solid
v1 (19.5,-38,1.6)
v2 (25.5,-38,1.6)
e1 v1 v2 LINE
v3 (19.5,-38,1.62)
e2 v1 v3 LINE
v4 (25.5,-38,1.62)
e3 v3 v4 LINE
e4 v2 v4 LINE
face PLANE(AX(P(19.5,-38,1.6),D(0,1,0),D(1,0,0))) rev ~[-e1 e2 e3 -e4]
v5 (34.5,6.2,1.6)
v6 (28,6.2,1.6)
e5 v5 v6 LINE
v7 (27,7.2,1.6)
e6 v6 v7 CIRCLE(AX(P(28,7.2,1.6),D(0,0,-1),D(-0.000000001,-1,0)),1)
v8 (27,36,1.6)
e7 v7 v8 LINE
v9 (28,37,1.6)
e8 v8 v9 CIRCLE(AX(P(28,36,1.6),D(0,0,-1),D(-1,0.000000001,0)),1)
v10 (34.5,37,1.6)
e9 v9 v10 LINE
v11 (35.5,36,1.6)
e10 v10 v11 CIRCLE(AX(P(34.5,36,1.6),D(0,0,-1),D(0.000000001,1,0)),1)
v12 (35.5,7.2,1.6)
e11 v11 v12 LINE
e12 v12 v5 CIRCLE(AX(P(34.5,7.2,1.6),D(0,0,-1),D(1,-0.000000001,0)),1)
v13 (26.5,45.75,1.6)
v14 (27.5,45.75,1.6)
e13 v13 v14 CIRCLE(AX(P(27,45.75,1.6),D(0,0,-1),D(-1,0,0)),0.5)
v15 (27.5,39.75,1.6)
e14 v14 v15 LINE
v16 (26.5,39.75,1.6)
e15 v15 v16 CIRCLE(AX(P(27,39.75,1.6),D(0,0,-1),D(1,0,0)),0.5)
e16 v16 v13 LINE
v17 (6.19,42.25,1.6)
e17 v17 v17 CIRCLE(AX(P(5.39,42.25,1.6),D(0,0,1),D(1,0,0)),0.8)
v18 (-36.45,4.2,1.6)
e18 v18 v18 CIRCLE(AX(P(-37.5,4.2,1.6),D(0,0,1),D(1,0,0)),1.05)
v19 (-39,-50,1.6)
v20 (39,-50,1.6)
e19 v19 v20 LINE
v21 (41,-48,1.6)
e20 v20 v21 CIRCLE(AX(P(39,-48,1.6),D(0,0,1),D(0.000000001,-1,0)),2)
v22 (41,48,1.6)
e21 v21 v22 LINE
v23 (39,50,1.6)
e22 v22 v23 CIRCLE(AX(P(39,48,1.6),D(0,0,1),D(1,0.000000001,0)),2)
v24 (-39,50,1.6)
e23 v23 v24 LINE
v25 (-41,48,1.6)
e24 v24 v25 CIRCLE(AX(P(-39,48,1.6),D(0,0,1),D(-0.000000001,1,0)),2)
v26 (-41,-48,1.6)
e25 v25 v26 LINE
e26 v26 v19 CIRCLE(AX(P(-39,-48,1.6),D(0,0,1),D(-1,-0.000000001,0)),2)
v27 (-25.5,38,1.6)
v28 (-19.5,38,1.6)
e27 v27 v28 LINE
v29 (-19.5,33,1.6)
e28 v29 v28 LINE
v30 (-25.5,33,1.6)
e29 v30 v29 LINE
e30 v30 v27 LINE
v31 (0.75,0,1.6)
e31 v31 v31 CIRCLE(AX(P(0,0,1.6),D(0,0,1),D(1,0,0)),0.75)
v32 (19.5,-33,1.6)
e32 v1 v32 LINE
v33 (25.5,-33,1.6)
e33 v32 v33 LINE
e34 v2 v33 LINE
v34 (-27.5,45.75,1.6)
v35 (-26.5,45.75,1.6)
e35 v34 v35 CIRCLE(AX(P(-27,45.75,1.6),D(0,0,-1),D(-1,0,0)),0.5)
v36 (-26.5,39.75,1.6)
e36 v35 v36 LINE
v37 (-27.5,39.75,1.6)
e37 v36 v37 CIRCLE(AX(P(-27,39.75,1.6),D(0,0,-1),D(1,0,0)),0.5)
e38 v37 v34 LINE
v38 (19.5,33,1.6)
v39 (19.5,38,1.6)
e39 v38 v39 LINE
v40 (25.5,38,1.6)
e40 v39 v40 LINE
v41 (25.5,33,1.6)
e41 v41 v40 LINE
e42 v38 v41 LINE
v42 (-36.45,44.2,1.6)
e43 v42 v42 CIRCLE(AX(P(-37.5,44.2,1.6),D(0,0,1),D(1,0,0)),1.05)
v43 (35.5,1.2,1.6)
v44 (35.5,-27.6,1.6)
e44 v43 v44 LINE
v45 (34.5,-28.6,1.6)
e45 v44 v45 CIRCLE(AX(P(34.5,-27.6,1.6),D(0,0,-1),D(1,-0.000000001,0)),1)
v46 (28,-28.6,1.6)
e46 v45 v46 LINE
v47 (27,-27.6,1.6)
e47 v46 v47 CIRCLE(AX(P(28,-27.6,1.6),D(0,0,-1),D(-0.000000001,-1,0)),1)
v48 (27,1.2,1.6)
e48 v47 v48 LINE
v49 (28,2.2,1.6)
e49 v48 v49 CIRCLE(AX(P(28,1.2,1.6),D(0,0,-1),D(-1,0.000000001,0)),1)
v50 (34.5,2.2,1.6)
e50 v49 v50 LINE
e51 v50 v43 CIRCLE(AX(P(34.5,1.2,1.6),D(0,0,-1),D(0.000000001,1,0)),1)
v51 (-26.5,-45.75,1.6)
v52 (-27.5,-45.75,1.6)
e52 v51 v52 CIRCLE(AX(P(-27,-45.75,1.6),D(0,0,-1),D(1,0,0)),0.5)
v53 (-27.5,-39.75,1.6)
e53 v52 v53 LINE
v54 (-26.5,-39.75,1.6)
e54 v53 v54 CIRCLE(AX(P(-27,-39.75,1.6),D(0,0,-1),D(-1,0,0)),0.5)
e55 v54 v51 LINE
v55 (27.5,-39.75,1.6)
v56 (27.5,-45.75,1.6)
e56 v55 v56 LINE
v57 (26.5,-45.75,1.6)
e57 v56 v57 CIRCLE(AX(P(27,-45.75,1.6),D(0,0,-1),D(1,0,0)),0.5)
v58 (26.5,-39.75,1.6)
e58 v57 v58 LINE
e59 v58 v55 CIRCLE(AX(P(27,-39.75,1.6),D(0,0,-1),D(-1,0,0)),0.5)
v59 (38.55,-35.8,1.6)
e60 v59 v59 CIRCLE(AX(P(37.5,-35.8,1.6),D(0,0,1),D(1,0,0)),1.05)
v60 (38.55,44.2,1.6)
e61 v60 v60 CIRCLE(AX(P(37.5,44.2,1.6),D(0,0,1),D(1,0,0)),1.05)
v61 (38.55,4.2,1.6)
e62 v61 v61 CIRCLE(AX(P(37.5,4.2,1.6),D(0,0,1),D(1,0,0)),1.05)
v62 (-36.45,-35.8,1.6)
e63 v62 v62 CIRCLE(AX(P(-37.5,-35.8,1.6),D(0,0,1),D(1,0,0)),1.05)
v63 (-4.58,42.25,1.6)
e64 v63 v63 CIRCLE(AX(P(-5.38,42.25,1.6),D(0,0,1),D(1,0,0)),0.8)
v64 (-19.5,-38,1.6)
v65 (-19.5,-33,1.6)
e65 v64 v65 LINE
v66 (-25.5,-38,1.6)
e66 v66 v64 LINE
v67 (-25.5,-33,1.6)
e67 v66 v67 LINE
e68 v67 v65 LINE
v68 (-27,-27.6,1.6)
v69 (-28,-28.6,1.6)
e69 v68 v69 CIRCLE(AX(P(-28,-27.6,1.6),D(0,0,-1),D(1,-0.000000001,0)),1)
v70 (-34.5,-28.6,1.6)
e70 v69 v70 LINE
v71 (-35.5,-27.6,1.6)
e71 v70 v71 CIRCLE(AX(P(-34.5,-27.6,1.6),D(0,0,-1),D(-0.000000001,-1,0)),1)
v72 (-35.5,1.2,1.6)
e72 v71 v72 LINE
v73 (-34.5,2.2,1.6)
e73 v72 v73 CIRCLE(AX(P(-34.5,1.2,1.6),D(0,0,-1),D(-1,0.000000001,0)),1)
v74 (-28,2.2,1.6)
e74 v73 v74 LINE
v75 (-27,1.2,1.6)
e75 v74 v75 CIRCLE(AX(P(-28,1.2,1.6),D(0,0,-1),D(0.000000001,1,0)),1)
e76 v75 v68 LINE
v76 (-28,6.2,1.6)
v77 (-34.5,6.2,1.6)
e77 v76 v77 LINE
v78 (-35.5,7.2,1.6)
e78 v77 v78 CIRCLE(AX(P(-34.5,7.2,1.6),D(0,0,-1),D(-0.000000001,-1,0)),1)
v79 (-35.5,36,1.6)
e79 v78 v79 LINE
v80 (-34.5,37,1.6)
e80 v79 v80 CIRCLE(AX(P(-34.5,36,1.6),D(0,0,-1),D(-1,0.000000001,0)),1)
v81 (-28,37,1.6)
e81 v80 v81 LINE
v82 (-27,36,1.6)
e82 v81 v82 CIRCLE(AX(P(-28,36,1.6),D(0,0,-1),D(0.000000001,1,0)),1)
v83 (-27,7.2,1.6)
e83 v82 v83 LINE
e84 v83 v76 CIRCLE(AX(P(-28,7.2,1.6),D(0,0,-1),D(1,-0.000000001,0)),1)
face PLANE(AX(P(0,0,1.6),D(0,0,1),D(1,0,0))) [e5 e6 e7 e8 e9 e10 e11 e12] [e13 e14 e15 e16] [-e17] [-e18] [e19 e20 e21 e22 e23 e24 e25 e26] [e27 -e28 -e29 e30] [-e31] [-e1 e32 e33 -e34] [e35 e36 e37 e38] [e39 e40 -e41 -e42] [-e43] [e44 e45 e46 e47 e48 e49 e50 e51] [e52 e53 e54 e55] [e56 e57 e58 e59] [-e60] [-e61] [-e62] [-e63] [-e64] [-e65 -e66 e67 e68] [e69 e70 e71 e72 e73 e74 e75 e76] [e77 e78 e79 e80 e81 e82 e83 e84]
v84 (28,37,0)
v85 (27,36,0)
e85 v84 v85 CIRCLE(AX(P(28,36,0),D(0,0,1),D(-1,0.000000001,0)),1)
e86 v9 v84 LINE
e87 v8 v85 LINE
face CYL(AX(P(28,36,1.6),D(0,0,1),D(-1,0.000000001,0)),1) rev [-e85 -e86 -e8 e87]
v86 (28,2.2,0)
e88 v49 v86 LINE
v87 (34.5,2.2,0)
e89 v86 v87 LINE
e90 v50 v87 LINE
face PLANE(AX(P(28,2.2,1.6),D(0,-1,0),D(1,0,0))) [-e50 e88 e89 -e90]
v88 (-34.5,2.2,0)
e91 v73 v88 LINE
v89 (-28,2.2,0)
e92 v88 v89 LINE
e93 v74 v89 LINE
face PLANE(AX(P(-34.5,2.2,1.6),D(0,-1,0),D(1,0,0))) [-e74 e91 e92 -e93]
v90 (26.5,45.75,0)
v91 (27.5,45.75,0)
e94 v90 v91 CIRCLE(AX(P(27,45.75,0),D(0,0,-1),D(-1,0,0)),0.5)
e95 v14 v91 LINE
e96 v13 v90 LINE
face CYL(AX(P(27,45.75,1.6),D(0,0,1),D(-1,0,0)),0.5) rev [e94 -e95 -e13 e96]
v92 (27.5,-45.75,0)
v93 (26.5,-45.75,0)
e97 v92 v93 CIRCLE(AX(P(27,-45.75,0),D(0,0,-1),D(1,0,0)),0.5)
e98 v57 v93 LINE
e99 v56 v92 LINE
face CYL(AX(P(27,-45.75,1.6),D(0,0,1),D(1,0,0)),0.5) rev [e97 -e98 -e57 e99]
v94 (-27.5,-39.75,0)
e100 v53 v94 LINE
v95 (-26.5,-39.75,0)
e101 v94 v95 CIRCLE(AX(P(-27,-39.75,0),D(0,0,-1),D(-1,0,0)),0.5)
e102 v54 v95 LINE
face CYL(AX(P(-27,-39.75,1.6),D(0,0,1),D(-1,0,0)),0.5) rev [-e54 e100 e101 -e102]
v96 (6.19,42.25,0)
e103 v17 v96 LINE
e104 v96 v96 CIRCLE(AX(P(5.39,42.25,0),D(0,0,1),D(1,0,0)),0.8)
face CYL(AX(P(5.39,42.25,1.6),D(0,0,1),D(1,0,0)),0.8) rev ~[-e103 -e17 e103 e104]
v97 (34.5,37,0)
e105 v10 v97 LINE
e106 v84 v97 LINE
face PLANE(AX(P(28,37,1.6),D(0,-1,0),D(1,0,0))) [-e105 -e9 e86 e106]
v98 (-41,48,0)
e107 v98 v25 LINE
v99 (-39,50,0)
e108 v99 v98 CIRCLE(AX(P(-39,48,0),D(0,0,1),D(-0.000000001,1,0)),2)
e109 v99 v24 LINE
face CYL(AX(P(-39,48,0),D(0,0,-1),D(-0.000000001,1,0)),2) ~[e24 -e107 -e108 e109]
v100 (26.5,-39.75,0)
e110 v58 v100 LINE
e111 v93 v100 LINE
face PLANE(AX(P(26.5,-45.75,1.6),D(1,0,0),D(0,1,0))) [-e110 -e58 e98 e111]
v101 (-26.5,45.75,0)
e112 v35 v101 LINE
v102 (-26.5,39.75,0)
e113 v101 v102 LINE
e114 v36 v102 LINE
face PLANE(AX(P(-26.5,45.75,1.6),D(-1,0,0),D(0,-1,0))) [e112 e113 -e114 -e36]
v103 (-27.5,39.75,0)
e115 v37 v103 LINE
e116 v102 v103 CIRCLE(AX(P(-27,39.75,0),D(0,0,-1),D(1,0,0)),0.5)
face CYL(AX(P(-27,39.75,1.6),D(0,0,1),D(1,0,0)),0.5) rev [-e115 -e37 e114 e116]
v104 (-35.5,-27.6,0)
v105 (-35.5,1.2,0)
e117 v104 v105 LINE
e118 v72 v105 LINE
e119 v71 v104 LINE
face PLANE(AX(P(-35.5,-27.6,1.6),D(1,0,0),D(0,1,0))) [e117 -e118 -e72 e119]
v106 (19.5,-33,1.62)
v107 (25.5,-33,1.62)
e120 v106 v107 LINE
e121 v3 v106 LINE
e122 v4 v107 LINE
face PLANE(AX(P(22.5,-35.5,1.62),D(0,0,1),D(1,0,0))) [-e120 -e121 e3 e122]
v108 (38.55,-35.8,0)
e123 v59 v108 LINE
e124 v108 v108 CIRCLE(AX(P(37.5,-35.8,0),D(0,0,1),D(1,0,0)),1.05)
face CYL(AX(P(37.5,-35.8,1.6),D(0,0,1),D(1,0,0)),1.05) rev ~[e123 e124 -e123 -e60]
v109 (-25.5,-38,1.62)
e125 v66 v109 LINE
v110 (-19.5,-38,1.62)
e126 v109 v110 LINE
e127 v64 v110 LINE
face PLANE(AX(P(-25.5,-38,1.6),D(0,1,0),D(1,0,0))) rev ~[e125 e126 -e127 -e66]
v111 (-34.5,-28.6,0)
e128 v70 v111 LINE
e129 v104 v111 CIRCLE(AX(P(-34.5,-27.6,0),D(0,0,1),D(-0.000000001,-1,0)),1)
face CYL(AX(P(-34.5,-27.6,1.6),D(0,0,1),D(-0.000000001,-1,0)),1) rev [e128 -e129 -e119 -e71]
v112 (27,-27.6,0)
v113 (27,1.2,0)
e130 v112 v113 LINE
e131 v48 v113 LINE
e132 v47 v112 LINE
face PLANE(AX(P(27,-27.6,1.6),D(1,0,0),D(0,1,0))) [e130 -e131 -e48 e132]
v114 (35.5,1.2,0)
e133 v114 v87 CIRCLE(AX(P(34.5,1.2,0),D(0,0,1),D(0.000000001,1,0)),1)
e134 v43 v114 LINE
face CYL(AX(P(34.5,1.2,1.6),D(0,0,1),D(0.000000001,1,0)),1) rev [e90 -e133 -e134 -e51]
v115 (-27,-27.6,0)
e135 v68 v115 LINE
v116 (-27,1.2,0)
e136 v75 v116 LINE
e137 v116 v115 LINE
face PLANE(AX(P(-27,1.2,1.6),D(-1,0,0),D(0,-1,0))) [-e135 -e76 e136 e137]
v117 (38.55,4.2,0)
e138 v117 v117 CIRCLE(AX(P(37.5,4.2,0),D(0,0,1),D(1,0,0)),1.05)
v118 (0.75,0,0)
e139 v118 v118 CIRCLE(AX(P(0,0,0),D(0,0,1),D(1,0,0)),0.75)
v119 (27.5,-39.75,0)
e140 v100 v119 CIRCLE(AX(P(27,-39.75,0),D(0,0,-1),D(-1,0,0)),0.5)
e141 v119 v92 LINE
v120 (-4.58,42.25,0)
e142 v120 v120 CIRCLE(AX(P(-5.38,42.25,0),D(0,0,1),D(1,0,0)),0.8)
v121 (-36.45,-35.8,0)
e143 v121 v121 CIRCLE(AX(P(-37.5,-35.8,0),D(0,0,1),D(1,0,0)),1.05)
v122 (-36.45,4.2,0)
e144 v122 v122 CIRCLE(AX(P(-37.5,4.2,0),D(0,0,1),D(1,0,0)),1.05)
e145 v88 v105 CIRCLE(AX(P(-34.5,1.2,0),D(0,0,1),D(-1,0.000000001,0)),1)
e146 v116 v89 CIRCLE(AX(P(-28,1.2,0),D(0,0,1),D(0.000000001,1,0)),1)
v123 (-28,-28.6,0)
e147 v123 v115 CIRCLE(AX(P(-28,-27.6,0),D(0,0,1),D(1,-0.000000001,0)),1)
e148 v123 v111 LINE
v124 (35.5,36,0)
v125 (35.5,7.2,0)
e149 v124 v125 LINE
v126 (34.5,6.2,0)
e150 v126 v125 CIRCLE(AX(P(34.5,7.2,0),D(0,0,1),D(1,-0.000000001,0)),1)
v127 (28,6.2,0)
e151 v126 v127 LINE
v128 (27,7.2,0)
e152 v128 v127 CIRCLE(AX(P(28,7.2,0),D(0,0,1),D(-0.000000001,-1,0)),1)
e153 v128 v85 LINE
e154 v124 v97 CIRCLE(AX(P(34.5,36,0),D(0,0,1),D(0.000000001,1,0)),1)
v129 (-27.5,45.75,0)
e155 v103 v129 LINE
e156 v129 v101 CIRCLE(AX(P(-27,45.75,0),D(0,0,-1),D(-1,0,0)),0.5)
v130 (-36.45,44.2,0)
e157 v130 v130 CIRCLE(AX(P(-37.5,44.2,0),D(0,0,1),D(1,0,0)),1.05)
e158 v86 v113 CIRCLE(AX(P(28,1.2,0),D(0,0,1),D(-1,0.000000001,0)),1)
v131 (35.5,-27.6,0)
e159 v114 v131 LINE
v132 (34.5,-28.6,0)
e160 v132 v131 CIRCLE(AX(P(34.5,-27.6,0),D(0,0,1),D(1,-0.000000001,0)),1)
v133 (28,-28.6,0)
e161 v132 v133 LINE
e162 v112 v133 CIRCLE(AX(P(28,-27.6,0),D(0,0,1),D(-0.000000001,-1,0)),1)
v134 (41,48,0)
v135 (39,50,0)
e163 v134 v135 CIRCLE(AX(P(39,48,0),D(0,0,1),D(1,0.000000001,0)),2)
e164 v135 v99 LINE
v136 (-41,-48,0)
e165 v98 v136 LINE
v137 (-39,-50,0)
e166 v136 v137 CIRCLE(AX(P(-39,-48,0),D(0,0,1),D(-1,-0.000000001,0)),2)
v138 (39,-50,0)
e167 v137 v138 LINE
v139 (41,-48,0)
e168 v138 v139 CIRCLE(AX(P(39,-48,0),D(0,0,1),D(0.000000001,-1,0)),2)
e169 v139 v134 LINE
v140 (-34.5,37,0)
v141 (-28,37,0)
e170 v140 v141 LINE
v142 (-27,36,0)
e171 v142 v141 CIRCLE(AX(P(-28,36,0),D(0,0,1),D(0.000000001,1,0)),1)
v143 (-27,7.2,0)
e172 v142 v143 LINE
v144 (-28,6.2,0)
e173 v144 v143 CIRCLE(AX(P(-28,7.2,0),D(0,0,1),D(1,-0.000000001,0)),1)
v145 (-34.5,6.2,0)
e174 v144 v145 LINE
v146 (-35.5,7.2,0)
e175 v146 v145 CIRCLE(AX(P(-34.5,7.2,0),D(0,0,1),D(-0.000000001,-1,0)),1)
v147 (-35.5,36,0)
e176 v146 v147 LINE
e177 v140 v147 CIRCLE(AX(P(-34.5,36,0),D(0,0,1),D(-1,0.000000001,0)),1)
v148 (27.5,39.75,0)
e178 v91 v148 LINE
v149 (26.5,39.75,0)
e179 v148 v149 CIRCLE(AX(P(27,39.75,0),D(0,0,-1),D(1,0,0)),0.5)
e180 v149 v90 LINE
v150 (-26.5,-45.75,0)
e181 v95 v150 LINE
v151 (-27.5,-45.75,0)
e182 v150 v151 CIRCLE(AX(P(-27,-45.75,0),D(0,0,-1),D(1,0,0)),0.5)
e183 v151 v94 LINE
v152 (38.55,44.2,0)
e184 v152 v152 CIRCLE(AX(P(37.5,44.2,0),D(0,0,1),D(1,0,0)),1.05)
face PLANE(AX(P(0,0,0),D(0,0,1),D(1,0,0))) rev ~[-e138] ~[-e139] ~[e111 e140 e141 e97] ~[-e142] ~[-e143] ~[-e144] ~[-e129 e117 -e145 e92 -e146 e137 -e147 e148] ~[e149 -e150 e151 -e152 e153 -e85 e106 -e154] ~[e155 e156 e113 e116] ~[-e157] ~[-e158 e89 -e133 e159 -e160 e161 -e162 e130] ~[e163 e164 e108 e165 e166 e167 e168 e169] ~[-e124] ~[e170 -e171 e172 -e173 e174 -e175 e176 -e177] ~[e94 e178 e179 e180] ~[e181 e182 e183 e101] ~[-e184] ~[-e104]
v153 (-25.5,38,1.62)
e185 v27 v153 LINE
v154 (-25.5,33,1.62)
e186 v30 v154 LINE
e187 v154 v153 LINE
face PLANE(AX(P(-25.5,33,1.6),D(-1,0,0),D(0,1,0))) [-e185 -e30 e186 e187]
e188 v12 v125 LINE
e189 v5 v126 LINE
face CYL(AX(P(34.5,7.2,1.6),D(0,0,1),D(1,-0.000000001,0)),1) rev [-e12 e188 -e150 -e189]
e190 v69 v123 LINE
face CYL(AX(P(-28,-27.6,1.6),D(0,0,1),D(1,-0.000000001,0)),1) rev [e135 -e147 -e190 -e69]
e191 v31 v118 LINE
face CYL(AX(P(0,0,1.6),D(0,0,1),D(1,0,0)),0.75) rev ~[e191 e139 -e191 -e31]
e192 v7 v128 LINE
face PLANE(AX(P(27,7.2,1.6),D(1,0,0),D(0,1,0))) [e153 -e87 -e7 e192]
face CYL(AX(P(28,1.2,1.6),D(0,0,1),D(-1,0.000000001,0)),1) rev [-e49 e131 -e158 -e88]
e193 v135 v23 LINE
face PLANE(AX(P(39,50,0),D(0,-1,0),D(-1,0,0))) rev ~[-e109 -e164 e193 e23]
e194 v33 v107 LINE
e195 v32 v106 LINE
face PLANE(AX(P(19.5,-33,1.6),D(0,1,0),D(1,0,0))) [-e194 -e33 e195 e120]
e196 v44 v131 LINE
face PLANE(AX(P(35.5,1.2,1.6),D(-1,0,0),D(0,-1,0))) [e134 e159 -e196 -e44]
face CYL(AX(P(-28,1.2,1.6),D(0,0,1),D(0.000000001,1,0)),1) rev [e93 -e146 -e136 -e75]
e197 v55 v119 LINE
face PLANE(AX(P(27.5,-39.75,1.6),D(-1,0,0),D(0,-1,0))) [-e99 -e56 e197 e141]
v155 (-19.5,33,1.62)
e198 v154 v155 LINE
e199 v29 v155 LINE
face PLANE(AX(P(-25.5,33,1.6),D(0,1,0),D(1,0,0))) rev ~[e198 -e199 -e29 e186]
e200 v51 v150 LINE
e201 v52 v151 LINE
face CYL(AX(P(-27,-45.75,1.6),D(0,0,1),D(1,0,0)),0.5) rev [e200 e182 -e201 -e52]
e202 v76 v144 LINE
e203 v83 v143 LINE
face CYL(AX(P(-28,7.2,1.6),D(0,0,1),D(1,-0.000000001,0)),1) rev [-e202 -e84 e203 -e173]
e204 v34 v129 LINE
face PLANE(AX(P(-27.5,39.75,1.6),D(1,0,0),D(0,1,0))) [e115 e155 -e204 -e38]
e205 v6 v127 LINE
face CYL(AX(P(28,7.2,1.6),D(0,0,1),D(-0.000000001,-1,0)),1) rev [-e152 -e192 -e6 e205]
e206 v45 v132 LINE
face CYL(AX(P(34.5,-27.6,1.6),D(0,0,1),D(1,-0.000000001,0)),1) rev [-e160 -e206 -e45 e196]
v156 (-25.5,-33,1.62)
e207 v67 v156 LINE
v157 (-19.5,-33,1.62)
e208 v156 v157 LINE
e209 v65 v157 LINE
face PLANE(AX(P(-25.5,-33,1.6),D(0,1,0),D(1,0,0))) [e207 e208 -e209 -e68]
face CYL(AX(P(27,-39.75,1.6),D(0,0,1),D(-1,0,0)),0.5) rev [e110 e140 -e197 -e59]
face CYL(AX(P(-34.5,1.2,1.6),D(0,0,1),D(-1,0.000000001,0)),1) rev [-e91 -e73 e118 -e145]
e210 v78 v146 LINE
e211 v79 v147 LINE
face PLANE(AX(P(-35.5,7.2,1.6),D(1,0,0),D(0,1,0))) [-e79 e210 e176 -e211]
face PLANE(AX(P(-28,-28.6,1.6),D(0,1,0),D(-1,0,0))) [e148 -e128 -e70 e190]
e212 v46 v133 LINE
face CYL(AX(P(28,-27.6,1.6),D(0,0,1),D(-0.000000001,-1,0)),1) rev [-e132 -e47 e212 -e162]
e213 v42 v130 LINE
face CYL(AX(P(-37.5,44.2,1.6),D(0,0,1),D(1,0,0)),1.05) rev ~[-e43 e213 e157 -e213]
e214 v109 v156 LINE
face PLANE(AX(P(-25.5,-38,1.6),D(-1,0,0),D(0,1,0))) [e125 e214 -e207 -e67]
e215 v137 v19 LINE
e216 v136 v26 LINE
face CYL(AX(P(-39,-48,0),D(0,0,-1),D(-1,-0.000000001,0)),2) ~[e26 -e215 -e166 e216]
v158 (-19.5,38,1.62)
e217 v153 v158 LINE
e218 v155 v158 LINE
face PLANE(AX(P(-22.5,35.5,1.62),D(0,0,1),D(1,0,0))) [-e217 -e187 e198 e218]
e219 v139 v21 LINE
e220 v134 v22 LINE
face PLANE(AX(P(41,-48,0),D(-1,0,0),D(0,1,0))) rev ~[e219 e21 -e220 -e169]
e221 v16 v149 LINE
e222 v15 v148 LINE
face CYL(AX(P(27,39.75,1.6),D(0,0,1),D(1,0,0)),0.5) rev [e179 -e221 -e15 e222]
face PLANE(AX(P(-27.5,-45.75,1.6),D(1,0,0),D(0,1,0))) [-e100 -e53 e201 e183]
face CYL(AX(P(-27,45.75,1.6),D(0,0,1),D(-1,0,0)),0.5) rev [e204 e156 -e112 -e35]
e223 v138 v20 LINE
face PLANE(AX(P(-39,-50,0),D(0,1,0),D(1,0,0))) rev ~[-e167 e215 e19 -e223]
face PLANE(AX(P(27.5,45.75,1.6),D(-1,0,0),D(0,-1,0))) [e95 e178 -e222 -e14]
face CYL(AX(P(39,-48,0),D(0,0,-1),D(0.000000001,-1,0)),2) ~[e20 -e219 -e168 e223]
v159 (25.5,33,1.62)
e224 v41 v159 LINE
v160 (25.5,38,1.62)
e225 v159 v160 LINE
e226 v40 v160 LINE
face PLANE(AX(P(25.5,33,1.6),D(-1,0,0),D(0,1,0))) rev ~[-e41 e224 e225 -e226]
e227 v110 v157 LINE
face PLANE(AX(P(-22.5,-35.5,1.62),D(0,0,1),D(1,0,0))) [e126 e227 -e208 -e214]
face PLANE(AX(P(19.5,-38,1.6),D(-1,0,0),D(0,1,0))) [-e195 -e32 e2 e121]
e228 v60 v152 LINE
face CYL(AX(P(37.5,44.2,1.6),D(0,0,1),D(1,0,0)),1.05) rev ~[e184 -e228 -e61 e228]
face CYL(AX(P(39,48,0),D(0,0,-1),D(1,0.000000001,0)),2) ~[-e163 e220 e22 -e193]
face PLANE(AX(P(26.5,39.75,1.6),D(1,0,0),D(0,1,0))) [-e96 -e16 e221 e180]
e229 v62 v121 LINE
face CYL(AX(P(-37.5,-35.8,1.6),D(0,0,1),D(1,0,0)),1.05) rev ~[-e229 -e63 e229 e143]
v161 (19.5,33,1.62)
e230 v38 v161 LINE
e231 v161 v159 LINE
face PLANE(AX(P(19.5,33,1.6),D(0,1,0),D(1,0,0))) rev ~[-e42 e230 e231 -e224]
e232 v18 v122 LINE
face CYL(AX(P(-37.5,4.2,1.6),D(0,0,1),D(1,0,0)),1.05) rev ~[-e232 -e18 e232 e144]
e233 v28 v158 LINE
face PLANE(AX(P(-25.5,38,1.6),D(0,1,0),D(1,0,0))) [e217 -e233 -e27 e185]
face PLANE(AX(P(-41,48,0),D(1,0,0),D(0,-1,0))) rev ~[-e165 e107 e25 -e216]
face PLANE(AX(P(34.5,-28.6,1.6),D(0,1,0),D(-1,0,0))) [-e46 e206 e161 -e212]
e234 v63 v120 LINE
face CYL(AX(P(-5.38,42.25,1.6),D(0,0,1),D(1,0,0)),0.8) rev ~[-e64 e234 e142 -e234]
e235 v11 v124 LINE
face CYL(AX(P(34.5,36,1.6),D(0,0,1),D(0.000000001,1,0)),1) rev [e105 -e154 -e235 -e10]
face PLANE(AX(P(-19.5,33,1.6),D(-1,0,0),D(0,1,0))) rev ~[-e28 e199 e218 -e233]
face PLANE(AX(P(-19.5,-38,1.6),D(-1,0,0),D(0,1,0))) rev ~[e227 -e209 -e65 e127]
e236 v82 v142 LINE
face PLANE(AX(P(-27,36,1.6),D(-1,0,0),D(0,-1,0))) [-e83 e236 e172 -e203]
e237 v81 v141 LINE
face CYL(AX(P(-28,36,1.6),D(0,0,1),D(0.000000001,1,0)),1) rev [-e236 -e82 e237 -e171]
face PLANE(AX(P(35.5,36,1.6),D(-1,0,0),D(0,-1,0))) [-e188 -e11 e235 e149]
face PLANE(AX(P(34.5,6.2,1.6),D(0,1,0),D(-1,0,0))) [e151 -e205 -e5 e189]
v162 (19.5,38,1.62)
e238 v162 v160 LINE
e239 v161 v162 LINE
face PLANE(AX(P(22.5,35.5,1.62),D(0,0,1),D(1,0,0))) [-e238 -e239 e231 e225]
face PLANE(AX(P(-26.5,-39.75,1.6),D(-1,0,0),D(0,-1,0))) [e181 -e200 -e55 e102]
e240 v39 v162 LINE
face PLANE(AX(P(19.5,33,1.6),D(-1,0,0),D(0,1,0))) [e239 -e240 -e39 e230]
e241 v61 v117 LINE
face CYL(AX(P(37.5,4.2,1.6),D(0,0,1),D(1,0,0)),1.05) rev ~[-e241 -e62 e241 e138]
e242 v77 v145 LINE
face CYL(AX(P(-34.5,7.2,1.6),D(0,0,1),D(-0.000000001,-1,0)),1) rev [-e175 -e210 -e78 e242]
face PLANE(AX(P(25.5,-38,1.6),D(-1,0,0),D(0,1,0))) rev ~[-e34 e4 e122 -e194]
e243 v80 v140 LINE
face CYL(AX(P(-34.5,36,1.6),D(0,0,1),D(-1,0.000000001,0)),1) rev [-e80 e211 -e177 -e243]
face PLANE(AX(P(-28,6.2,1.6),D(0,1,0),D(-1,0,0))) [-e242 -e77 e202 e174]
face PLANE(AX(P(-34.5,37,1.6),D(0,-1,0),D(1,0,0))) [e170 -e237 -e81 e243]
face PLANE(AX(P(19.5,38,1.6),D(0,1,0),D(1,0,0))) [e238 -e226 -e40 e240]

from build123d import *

# Parameters (mm, degrees)
BOSS_EXTRUDE1_DEPTH = 1.6
SKETCH2_R           = 0.75
SKETCH2_R_2         = 1.05
SKETCH2_R_3         = 0.8
CUT_EXTRUDE1_DEPTH  = 65.680445267
CUT_EXTRUDE2_DEPTH  = 65.680445267
CUT_EXTRUDE3_DEPTH  = 1.6
SKETCH5_W           = 6
SKETCH5_H           = 5
BOSS_EXTRUDE2_DEPTH = 0.02


with BuildPart() as part:
    # Sketch1 → Boss-Extrude1 (new body)
    with BuildSketch(Plane.XY):
        with BuildLine():
            Line((-39, -50), (39, -50))
            ThreePointArc((39, -50), (40.414213562, -49.414213562), (41, -48))
            Line((41, -48), (41, 48))
            ThreePointArc((41, 48), (40.414213562, 49.414213562), (39, 50))
            Line((39, 50), (-39, 50))
            ThreePointArc((-39, 50), (-40.414213562, 49.414213562), (-41, 48))
            Line((-41, 48), (-41, -48))
            ThreePointArc((-41, -48), (-40.414213562, -49.414213562), (-39, -50))
        make_face()
    extrude(amount=BOSS_EXTRUDE1_DEPTH)

    # Sketch2 → Cut-Extrude1 (cut, through all)
    with BuildSketch(Plane.XY.offset(1.6)):
        Circle(SKETCH2_R)
        with Locations((-37.5, 44.2)):
            Circle(SKETCH2_R_2)
        with Locations((37.5, 44.2)):
            Circle(SKETCH2_R_2)
        with Locations((37.5, 4.2)):
            Circle(SKETCH2_R_2)
        with Locations((37.5, -35.8)):
            Circle(SKETCH2_R_2)
        with Locations((-37.5, 4.2)):
            Circle(SKETCH2_R_2)
        with Locations((-37.5, -35.8)):
            Circle(SKETCH2_R_2)
        with Locations((-5.38, 42.25)):
            Circle(SKETCH2_R_3)
        with Locations((5.39, 42.25)):
            Circle(SKETCH2_R_3)
    extrude(amount=-CUT_EXTRUDE1_DEPTH, mode=Mode.SUBTRACT)

    # Sketch3 → Cut-Extrude2 (cut, through all)
    with BuildSketch(Plane.XY.offset(1.6)):
        with BuildLine():
            Line((-34.5, 37), (-28, 37))
            ThreePointArc((-28, 37), (-27.292893219, 36.707106781), (-27, 36))
            Line((-27, 36), (-27, 7.2))
            ThreePointArc((-27, 7.2), (-27.292893219, 6.492893219), (-28, 6.2))
            Line((-28, 6.2), (-34.5, 6.2))
            ThreePointArc((-34.5, 6.2), (-35.207106781, 6.492893219), (-35.5, 7.2))
            Line((-35.5, 7.2), (-35.5, 36))
            ThreePointArc((-35.5, 36), (-35.207106781, 36.707106781), (-34.5, 37))
        make_face()
        with BuildLine():
            Line((28, 37), (34.5, 37))
            ThreePointArc((34.5, 37), (35.207106781, 36.707106781), (35.5, 36))
            Line((35.5, 36), (35.5, 7.2))
            ThreePointArc((35.5, 7.2), (35.207106781, 6.492893219), (34.5, 6.2))
            Line((34.5, 6.2), (28, 6.2))
            ThreePointArc((28, 6.2), (27.292893219, 6.492893219), (27, 7.2))
            Line((27, 7.2), (27, 36))
            ThreePointArc((27, 36), (27.292893219, 36.707106781), (28, 37))
        make_face()
        with BuildLine():
            Line((28, 2.2), (34.5, 2.2))
            ThreePointArc((34.5, 2.2), (35.207106781, 1.907106781), (35.5, 1.2))
            Line((35.5, 1.2), (35.5, -27.6))
            ThreePointArc((35.5, -27.6), (35.207106781, -28.307106781), (34.5, -28.6))
            Line((34.5, -28.6), (28, -28.6))
            ThreePointArc((28, -28.6), (27.292893219, -28.307106781), (27, -27.6))
            Line((27, -27.6), (27, 1.2))
            ThreePointArc((27, 1.2), (27.292893219, 1.907106781), (28, 2.2))
        make_face()
        with BuildLine():
            Line((-34.5, 2.2), (-28, 2.2))
            ThreePointArc((-28, 2.2), (-27.292893219, 1.907106781), (-27, 1.2))
            Line((-27, 1.2), (-27, -27.6))
            ThreePointArc((-27, -27.6), (-27.292893219, -28.307106781), (-28, -28.6))
            Line((-28, -28.6), (-34.5, -28.6))
            ThreePointArc((-34.5, -28.6), (-35.207106781, -28.307106781), (-35.5, -27.6))
            Line((-35.5, -27.6), (-35.5, 1.2))
            ThreePointArc((-35.5, 1.2), (-35.207106781, 1.907106781), (-34.5, 2.2))
        make_face()
    extrude(amount=-CUT_EXTRUDE2_DEPTH, mode=Mode.SUBTRACT)

    # Sketch4 → Cut-Extrude3 (cut)
    with BuildSketch(Plane.XY.offset(1.6)):
        with BuildLine():
            Line((-27.5, 39.75), (-27.5, 45.75))
            ThreePointArc((-27.5, 45.75), (-27, 46.25), (-26.5, 45.75))
            Line((-26.5, 45.75), (-26.5, 39.75))
            ThreePointArc((-26.5, 39.75), (-27, 39.25), (-27.5, 39.75))
        make_face()
        with BuildLine():
            Line((26.5, 39.75), (26.5, 45.75))
            ThreePointArc((26.5, 45.75), (27, 46.25), (27.5, 45.75))
            Line((27.5, 45.75), (27.5, 39.75))
            ThreePointArc((27.5, 39.75), (27, 39.25), (26.5, 39.75))
        make_face()
        with BuildLine():
            Line((26.5, -45.75), (26.5, -39.75))
            ThreePointArc((26.5, -39.75), (27, -39.25), (27.5, -39.75))
            Line((27.5, -39.75), (27.5, -45.75))
            ThreePointArc((27.5, -45.75), (27, -46.25), (26.5, -45.75))
        make_face()
        with BuildLine():
            Line((-27.5, -45.75), (-27.5, -39.75))
            ThreePointArc((-27.5, -39.75), (-27, -39.25), (-26.5, -39.75))
            Line((-26.5, -39.75), (-26.5, -45.75))
            ThreePointArc((-26.5, -45.75), (-27, -46.25), (-27.5, -45.75))
        make_face()
    extrude(amount=-CUT_EXTRUDE3_DEPTH, mode=Mode.SUBTRACT)

    # Sketch5 → Boss-Extrude2 (add)
    with BuildSketch(Plane.XY.offset(1.6)):
        with Locations((-22.5, 35.5)):
            Rectangle(SKETCH5_W, SKETCH5_H)
        with Locations((22.5, 35.5)):
            Rectangle(SKETCH5_W, SKETCH5_H)
        with Locations((22.5, -35.5)):
            Rectangle(SKETCH5_W, SKETCH5_H)
        with Locations((-22.5, -35.5)):
            Rectangle(SKETCH5_W, SKETCH5_H)
    extrude(amount=BOSS_EXTRUDE2_DEPTH)


solid = part.part
